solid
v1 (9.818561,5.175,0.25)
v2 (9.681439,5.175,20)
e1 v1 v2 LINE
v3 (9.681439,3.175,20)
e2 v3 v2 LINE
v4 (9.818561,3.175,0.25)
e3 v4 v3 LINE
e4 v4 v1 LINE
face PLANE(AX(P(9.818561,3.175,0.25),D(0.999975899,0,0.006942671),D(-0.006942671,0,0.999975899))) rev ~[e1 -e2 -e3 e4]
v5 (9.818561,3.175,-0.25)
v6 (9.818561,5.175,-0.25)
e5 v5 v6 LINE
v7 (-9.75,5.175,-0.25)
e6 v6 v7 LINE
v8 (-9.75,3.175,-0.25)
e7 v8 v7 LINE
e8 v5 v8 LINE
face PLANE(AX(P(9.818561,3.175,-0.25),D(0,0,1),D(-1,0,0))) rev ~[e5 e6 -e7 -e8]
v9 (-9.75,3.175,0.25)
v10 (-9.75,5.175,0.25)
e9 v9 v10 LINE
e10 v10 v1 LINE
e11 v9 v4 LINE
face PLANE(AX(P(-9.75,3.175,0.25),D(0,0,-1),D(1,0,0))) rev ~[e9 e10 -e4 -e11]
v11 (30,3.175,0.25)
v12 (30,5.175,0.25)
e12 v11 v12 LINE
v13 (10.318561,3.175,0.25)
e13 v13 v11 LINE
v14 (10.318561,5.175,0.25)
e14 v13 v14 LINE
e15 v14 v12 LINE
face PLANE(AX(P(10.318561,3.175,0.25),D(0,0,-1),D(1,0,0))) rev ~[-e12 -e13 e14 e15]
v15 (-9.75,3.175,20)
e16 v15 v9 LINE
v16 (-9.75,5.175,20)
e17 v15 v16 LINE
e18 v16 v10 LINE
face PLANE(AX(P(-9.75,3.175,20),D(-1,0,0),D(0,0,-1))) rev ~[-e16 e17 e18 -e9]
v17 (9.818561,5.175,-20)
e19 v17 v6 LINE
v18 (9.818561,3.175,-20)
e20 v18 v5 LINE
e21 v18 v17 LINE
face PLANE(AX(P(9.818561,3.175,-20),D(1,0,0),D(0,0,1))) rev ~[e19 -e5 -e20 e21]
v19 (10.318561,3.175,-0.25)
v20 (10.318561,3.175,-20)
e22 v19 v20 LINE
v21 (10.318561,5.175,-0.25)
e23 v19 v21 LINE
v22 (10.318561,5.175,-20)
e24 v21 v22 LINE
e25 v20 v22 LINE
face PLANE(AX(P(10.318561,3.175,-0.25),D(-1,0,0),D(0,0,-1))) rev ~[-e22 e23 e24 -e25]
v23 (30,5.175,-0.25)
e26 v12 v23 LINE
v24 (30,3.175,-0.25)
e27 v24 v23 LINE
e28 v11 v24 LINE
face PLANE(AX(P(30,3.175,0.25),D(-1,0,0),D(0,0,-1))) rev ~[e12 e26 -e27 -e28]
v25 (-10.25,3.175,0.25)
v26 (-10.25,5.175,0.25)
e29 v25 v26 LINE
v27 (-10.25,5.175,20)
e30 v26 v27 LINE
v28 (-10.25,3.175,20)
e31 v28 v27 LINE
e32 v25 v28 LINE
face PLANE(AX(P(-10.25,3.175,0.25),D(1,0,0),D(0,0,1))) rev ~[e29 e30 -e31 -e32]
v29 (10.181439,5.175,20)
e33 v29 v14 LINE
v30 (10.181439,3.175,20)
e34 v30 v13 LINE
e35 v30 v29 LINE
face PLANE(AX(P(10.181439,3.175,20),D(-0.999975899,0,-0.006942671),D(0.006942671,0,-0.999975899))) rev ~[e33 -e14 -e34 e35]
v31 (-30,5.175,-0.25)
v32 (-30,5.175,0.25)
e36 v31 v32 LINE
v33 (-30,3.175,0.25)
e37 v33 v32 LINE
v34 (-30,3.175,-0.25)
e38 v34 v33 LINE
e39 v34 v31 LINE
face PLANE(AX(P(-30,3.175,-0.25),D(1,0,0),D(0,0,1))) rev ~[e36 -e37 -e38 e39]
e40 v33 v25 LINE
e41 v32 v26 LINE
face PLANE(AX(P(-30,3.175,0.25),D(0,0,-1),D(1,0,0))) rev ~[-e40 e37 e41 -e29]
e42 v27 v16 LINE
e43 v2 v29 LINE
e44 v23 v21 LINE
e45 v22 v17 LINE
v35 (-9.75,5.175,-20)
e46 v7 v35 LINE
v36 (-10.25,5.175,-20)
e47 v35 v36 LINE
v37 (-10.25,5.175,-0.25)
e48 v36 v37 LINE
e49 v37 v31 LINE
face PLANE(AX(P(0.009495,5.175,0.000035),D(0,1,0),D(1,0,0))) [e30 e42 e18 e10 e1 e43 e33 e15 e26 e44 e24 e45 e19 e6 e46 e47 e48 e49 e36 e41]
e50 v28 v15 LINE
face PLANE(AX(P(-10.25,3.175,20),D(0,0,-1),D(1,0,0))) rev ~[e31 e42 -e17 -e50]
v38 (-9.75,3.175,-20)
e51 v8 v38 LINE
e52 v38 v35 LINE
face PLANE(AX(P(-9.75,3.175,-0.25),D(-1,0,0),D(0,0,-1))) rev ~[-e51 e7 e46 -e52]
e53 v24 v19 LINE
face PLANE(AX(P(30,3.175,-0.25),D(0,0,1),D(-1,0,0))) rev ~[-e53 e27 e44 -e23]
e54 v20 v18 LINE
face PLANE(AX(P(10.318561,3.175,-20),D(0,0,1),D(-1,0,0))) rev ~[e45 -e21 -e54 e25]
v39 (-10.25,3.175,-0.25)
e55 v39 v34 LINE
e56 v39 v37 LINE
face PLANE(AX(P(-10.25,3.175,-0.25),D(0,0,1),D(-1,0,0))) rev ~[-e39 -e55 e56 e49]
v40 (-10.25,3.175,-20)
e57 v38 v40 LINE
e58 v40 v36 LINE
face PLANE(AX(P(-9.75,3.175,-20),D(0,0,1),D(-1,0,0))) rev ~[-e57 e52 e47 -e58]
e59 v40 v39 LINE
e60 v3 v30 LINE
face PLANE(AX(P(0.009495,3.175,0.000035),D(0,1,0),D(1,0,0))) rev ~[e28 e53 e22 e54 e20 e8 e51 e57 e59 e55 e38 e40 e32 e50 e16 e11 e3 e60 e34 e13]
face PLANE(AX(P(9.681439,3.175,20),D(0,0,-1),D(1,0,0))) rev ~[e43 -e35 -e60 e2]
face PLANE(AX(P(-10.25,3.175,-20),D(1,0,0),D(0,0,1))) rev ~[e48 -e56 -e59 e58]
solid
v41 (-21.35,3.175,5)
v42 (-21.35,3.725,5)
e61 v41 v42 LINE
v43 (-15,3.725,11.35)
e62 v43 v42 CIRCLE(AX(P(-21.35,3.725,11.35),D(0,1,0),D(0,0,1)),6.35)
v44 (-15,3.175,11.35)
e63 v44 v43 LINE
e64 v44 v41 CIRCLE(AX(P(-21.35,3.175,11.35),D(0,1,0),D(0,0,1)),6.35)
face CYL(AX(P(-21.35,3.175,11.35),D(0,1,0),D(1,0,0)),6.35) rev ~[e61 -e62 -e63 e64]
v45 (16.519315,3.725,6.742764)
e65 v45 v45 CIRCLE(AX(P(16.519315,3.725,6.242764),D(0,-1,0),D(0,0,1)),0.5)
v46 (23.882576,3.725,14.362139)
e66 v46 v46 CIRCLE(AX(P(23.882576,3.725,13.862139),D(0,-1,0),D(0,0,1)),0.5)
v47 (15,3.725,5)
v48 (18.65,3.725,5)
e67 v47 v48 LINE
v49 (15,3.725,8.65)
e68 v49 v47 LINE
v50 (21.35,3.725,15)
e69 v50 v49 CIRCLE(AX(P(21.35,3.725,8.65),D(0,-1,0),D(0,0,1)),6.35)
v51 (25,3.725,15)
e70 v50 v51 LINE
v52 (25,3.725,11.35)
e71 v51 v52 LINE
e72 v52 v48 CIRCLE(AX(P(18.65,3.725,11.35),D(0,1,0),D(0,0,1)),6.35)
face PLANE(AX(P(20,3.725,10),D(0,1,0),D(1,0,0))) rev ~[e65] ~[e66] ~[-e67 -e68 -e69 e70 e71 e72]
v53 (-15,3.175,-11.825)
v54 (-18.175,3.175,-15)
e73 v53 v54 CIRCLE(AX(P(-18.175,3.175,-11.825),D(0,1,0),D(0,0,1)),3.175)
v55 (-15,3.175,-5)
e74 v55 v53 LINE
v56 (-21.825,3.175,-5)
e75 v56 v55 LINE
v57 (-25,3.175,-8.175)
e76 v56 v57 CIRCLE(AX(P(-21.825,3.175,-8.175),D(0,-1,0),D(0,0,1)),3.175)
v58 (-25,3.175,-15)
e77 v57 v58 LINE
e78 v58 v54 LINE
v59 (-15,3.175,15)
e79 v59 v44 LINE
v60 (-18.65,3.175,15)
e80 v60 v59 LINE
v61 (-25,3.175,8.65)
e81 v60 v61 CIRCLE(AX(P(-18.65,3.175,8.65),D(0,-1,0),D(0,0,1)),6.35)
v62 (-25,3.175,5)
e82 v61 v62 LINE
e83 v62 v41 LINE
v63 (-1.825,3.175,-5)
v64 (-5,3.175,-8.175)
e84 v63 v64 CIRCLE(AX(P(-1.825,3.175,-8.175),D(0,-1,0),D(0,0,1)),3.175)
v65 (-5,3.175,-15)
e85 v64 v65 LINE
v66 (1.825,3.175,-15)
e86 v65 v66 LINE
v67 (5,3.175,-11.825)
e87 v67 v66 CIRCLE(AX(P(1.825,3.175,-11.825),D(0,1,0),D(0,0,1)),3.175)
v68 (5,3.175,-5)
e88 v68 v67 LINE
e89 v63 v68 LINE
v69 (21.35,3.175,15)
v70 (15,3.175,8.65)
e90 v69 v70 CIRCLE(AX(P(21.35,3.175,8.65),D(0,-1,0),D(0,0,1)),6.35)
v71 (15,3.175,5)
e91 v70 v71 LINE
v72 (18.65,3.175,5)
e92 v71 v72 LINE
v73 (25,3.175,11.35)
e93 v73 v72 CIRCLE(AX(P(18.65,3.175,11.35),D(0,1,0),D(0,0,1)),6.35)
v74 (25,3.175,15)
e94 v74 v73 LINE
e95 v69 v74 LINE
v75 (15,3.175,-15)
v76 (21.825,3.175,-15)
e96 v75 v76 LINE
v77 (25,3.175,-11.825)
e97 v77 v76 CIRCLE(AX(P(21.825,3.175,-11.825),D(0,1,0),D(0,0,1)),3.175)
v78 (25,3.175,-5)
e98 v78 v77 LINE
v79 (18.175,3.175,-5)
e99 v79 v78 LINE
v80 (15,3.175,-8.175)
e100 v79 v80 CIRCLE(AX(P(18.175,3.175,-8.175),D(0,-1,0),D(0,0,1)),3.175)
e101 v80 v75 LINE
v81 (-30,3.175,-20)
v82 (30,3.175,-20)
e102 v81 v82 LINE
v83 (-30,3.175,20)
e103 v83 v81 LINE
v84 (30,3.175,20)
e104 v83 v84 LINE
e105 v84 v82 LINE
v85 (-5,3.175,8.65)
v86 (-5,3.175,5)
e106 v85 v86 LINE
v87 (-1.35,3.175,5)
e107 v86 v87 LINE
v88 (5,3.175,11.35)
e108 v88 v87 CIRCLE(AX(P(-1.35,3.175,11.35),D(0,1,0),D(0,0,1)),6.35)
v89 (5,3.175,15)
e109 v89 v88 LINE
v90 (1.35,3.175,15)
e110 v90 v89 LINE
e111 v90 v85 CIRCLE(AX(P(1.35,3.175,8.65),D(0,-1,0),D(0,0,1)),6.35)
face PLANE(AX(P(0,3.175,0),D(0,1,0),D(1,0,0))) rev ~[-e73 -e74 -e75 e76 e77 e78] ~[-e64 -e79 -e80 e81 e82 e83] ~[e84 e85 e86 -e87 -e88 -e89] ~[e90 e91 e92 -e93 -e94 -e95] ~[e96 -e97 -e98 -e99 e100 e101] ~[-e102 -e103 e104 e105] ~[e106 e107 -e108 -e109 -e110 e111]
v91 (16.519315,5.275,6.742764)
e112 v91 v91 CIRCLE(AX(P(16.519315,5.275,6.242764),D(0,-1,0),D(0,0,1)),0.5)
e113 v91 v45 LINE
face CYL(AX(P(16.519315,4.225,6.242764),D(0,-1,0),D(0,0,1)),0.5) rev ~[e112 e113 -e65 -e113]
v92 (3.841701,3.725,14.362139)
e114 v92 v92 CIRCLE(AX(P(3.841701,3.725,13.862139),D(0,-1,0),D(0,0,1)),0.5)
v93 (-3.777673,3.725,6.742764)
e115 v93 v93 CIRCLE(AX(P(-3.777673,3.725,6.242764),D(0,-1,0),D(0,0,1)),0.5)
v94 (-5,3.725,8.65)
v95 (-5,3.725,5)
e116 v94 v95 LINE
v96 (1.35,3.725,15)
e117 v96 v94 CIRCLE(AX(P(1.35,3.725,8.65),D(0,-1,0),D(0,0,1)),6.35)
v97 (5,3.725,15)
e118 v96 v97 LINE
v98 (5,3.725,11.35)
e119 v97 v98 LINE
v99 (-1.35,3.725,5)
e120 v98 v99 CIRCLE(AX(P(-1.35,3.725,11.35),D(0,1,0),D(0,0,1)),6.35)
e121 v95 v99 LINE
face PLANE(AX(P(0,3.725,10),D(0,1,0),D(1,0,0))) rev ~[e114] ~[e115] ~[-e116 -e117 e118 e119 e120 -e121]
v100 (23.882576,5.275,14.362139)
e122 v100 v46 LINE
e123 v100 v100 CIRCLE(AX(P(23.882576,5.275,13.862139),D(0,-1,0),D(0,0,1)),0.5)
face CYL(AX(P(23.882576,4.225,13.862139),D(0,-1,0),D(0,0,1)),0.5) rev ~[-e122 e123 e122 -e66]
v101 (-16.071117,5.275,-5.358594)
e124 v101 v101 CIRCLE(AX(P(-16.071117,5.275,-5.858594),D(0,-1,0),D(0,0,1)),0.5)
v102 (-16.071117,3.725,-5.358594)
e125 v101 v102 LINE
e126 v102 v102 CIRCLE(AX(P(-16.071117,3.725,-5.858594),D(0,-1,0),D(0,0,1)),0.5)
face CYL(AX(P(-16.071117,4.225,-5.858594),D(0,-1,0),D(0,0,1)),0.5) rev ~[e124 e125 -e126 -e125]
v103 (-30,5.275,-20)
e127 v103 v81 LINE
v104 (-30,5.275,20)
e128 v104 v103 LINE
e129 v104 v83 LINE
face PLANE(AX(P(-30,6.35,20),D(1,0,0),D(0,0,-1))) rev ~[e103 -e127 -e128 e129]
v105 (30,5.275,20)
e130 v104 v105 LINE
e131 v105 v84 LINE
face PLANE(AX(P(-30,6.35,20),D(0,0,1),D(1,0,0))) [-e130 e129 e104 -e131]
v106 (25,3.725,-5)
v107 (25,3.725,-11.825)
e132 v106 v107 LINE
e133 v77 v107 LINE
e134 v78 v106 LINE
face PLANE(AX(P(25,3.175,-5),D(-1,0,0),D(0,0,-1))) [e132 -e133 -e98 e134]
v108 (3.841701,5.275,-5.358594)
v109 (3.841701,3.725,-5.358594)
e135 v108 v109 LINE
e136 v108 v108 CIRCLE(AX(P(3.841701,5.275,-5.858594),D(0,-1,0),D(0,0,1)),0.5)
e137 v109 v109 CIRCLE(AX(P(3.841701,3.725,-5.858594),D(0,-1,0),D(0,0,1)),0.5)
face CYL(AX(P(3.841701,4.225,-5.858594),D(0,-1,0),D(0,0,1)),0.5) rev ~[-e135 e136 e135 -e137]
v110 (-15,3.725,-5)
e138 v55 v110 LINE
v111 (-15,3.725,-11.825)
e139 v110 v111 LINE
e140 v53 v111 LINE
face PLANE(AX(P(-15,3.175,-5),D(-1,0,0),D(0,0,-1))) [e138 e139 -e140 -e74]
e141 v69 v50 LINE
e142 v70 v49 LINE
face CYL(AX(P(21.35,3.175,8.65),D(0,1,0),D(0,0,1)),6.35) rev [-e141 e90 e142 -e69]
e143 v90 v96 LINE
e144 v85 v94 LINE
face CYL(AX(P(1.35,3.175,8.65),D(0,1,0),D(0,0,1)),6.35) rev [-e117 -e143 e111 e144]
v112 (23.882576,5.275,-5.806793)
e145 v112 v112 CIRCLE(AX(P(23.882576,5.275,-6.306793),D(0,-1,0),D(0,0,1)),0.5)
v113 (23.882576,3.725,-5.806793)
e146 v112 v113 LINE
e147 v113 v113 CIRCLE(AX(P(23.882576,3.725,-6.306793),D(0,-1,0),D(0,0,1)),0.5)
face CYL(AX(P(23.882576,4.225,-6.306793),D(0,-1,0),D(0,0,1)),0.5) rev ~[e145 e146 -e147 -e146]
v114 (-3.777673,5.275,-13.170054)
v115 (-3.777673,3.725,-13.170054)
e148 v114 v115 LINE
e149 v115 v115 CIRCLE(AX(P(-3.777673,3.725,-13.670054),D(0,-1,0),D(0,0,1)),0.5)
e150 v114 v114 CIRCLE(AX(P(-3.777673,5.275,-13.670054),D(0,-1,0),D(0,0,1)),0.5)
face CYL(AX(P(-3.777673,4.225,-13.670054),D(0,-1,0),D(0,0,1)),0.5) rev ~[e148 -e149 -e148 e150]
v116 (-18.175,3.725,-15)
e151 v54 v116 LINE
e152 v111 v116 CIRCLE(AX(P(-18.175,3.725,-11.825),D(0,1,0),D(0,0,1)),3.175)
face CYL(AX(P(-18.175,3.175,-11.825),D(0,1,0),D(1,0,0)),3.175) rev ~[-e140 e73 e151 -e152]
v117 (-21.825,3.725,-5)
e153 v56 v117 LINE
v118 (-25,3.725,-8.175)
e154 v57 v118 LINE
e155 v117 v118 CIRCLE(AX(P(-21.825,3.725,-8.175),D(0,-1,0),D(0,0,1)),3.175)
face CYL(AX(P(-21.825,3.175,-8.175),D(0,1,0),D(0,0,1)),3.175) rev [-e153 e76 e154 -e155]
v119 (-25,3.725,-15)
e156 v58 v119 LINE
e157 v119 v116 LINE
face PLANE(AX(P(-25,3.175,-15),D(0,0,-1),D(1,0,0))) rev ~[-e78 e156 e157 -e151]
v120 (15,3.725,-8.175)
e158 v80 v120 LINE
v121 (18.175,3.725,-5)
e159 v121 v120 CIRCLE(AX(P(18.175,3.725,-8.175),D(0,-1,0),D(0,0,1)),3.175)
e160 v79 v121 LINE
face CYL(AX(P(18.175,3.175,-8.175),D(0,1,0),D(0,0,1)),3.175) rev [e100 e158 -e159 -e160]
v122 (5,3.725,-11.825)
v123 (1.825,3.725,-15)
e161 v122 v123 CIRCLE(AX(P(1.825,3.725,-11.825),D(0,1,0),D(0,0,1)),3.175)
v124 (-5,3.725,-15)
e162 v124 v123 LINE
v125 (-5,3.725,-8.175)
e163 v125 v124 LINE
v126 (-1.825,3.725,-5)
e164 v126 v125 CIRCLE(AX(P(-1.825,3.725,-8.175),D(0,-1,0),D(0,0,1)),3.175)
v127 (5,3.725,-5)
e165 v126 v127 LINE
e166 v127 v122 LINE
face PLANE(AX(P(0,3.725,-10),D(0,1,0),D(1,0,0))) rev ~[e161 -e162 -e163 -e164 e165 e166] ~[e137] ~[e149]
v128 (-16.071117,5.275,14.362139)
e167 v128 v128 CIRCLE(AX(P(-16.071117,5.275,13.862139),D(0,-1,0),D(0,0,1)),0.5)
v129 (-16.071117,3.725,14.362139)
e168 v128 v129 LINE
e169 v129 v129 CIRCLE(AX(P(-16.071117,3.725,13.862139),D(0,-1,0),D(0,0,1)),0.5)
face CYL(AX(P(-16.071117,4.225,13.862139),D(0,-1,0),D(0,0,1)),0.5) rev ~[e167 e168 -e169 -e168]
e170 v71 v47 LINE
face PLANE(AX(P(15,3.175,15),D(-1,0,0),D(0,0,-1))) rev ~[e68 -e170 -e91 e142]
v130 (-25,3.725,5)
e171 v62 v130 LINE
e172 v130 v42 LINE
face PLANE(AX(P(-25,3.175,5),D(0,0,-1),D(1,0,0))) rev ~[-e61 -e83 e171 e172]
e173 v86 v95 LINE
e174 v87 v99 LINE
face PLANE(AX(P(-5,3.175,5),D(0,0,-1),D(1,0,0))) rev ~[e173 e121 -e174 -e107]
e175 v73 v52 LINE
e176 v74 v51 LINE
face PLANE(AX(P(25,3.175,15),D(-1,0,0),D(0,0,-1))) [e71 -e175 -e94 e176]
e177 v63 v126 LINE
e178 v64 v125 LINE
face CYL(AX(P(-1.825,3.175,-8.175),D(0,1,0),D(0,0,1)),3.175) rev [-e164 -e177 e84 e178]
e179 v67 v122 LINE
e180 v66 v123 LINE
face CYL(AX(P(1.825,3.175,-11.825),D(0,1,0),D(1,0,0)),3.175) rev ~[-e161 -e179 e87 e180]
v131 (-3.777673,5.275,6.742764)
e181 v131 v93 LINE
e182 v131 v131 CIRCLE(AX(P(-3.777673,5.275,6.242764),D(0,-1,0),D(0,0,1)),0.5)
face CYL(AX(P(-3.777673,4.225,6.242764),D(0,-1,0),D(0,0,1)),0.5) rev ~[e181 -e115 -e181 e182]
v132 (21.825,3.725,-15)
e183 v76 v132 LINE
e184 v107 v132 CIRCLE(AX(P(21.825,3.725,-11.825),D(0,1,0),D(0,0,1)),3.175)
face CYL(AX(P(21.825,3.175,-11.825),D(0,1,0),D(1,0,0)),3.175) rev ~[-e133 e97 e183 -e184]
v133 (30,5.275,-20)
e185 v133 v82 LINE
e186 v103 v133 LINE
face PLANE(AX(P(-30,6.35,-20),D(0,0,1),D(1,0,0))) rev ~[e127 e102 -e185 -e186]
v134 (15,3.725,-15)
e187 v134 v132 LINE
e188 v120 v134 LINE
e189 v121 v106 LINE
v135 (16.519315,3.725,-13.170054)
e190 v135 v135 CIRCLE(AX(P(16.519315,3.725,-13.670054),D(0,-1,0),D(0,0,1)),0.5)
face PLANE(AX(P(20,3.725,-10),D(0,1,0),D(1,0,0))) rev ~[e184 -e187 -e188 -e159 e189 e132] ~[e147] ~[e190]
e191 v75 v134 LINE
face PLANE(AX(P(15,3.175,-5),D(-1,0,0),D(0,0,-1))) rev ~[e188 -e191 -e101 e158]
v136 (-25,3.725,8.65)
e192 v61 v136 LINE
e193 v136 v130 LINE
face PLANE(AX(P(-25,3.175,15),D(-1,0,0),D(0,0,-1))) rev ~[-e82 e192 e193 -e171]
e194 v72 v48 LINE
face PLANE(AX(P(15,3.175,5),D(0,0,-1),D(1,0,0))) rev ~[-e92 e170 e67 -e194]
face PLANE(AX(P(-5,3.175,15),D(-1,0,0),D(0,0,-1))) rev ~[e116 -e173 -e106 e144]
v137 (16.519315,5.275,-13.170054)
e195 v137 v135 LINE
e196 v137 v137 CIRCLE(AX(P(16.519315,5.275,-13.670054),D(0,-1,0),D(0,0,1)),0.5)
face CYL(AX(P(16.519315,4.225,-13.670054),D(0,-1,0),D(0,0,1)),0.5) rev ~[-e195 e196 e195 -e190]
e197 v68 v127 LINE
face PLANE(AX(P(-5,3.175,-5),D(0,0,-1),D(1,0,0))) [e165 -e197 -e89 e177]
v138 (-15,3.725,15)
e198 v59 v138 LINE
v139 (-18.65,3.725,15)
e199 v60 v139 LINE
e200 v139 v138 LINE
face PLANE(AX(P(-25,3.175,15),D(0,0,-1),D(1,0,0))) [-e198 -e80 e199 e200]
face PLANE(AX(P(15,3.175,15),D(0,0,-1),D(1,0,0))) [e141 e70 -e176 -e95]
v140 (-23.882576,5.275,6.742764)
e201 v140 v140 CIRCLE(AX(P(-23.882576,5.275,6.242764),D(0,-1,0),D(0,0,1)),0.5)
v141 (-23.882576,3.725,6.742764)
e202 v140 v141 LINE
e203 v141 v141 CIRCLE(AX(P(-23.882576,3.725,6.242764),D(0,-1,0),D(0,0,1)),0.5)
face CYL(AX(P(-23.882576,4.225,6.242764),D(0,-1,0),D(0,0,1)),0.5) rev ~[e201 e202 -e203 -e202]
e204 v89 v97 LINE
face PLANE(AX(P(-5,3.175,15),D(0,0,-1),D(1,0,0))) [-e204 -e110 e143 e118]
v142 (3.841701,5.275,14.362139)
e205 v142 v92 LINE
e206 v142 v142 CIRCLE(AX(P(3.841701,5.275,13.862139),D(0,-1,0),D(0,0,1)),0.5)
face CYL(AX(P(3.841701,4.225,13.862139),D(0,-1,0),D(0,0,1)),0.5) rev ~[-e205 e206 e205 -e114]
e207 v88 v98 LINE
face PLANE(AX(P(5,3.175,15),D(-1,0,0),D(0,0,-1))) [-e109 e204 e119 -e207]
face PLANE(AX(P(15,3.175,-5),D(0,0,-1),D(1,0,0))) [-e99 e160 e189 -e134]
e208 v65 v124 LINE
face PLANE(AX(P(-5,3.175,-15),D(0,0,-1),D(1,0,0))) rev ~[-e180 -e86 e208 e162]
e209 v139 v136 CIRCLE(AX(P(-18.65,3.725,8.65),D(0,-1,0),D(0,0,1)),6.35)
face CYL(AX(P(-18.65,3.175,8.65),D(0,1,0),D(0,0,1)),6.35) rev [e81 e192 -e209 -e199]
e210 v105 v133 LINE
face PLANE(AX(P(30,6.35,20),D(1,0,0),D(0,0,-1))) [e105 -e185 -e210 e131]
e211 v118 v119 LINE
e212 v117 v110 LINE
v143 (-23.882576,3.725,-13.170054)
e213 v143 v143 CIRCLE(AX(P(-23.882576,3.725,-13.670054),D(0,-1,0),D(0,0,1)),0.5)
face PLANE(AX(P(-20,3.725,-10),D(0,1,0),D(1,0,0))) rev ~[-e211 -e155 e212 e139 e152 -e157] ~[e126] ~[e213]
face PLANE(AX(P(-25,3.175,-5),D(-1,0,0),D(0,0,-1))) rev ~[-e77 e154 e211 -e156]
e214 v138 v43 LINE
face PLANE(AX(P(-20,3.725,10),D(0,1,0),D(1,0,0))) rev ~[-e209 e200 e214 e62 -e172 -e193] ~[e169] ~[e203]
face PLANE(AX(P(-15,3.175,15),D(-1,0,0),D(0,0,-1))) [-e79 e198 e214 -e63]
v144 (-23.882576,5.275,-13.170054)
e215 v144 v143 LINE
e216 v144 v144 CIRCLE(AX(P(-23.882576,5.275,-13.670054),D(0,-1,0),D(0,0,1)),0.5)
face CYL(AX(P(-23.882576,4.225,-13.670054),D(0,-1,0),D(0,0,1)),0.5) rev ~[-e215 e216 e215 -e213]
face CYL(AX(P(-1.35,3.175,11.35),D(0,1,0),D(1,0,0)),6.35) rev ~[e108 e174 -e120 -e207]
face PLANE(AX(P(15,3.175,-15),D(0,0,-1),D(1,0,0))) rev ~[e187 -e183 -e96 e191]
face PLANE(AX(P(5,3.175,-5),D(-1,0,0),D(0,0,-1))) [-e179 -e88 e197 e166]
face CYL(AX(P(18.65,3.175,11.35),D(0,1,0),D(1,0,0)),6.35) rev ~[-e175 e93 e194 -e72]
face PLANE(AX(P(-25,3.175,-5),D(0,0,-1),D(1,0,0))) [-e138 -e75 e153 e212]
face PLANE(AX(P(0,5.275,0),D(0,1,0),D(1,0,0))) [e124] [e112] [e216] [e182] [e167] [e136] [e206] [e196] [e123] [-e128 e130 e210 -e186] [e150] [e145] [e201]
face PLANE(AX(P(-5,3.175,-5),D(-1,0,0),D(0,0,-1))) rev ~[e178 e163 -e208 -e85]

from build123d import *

# Parameters (mm, degrees)
SKETCH1_W                       = 70
SKETCH1_H                       = 50
BOSS_EXTRUDE1_DEPTH             = 6.35
SKETCH2_W                       = 60
SKETCH2_H                       = 40
CUT_EXTRUDE1_DEPTH              = 3.175
SKETCH3_W                       = 10
SKETCH3_H                       = 10
BOSS_EXTRUDE2_DEPTH             = 0.55
LPATTERN1_COUNT                 = 3
LPATTERN1_PITCH                 = 20
LPATTERN1_COUNT_DIR2            = 2
LPATTERN1_PITCH_DIR2            = 20
DIVIDERS_DEPTH                  = 2
FILLET4_R                       = 3.175
FILLET6_R                       = 3.175
FILLET7_R                       = 6.35
SKETCH11_W                      = 61.55259076
SKETCH11_H                      = 41.010160592
BOSS_EXTRUDE3_DEPTH             = 2.1
SKETCH13_W                      = 0.5
SKETCH13_H                      = 2.1
F_1_0MM_DOWEL_HOLE1_AT_2_COUNT  = 2
F_1_0MM_DOWEL_HOLE1_AT_2_PITCH  = 11.047071486
F_1_0MM_DOWEL_HOLE1_AT_3_COUNT  = 2
F_1_0MM_DOWEL_HOLE1_AT_3_PITCH  = 19.912818023
F_1_0MM_DOWEL_HOLE1_AT_4_COUNT  = 2
F_1_0MM_DOWEL_HOLE1_AT_4_PITCH  = 28.618883578
F_1_0MM_DOWEL_HOLE1_AT_5_COUNT  = 2
F_1_0MM_DOWEL_HOLE1_AT_5_PITCH  = 28.29712794
F_1_0MM_DOWEL_HOLE1_AT_6_COUNT  = 2
F_1_0MM_DOWEL_HOLE1_AT_6_PITCH  = 39.07246023
F_1_0MM_DOWEL_HOLE1_AT_7_COUNT  = 2
F_1_0MM_DOWEL_HOLE1_AT_7_PITCH  = 28.803722668
F_1_0MM_DOWEL_HOLE1_AT_8_COUNT  = 2
F_1_0MM_DOWEL_HOLE1_AT_8_PITCH  = 20.104903085
F_1_0MM_DOWEL_HOLE1_AT_9_COUNT  = 2
F_1_0MM_DOWEL_HOLE1_AT_9_PITCH  = 40.40189123
F_1_0MM_DOWEL_HOLE1_AT_10_COUNT = 2
F_1_0MM_DOWEL_HOLE1_AT_10_PITCH = 48.329363179
F_1_0MM_DOWEL_HOLE1_AT_11_COUNT = 2
F_1_0MM_DOWEL_HOLE1_AT_11_PITCH = 45.042570271
F_1_0MM_DOWEL_HOLE1_AT_12_COUNT = 2
F_1_0MM_DOWEL_HOLE1_AT_12_PITCH = 55.131944827


with BuildPart() as part:
    # Sketch1 → Boss-Extrude1 (new body)
    with BuildSketch(Plane(origin=(0, 0, 0), x_dir=(1, 0, 0), z_dir=(0, 1, 0))):
        Rectangle(SKETCH1_W, SKETCH1_H)
    extrude(amount=BOSS_EXTRUDE1_DEPTH)

    # Sketch2 → Cut-Extrude1 (cut)
    with BuildSketch(Plane(origin=(0, 6.35, 0), x_dir=(1, 0, 0), z_dir=(0, 1, 0))):
        Rectangle(SKETCH2_W, SKETCH2_H)
    extrude(amount=-CUT_EXTRUDE1_DEPTH, mode=Mode.SUBTRACT)

    # Sketch3 → Boss-Extrude2 (add)
    with BuildSketch(Plane(origin=(0, 3.175, 0), x_dir=(1, 0, 0), z_dir=(0, 1, 0))):
        with Locations((-20, 10)):
            Rectangle(SKETCH3_W, SKETCH3_H)
    boss_extrude2 = extrude(amount=BOSS_EXTRUDE2_DEPTH)

    # LPattern1: Boss-Extrude2 3 × 2
    with Locations(*[(i * LPATTERN1_PITCH, 0, j * LPATTERN1_PITCH_DIR2) for i in range(LPATTERN1_COUNT) for j in range(LPATTERN1_COUNT_DIR2) if (i, j) != (0, 0)]):
        add(boss_extrude2)

    # Fillet4
    fillet4_edges = [part.edges().sort_by_distance(p)[0] for p in [
        (35, 3.175, 25),
        (-35, 3.175, 25),
        (-35, 3.175, -25),
        (35, 3.175, -25),
    ]]
    fillet(fillet4_edges, radius=FILLET4_R)

    # Fillet6
    fillet6_edges = [part.edges().sort_by_distance(p)[0] for p in [
        (-15, 3.45, -15),
        (-25, 3.45, -5),
        (5, 3.45, -15),
        (-5, 3.45, -5),
        (25, 3.45, -15),
        (15, 3.45, -5),
    ]]
    fillet(fillet6_edges, radius=FILLET6_R)

    # Fillet7
    fillet7_edges = [part.edges().sort_by_distance(p)[0] for p in [
        (-15, 3.45, 5),
        (-25, 3.45, 15),
        (5, 3.45, 5),
        (-5, 3.45, 15),
        (25, 3.45, 5),
        (15, 3.45, 15),
    ]]
    fillet(fillet7_edges, radius=FILLET7_R)


with BuildPart() as body_2:
    # Sketch10 → Dividers (new body)
    with BuildSketch(Plane(origin=(0, 3.175, 0), x_dir=(1, 0, 0), z_dir=(0, 1, 0))):
        Polygon((-10.25, -0.25), (-10.25, -20), (-9.75, -20), (-9.75, -0.25), (9.818560524, -0.25), (9.681439476, -20), (10.181439476, -20), (10.318560524, -0.25), (30, -0.25), (30, 0.25), (10.318560524, 0.25), (10.318560524, 20), (9.818560524, 20), (9.818560524, 0.25), (-9.75, 0.25), (-9.75, 20), (-10.25, 20), (-10.25, 0.25), (-30, 0.25), (-30, -0.25), align=None)
    extrude(amount=DIVIDERS_DEPTH)


with BuildPart() as body_3:
    # Sketch11 → Boss-Extrude3 (new body)
    with BuildSketch(Plane(origin=(0, 3.175, 0), x_dir=(1, 0, 0), z_dir=(0, 1, 0))):
        Rectangle(SKETCH11_W, SKETCH11_H)
    extrude(amount=BOSS_EXTRUDE3_DEPTH)

    # Combine1: cut part
    add(part.part, mode=Mode.SUBTRACT)

    # Sketch13 → Ø1.0mm Dowel Hole1 (revolve, cut)
    with BuildSketch(Plane(origin=(-23.882575957, 5.275, -13.67005353), x_dir=(0, 0, 1), z_dir=(1, 0, 0))):
        with Locations((0.25, 1.05)):
            Rectangle(SKETCH13_W, SKETCH13_H)
    f_1_0mm_dowel_hole1 = revolve(axis=Axis((-23.882575957, 11.625, -13.67005353), (0, -1, 0)), mode=Mode.SUBTRACT)

    # Ø1.0mm Dowel Hole1 at 2: Ø1.0mm Dowel Hole1 ×2
    with Locations(*[Vector(0.707106781, 0, 0.707106781) * (i * F_1_0MM_DOWEL_HOLE1_AT_2_PITCH) for i in range(1, F_1_0MM_DOWEL_HOLE1_AT_2_COUNT)]):
        add(f_1_0mm_dowel_hole1, mode=Mode.SUBTRACT)

    # Ø1.0mm Dowel Hole1 at 3: Ø1.0mm Dowel Hole1 ×2
    with Locations(*[(0, 0, i * F_1_0MM_DOWEL_HOLE1_AT_3_PITCH) for i in range(1, F_1_0MM_DOWEL_HOLE1_AT_3_COUNT)]):
        add(f_1_0mm_dowel_hole1, mode=Mode.SUBTRACT)

    # Ø1.0mm Dowel Hole1 at 4: Ø1.0mm Dowel Hole1 ×2
    with Locations(*[Vector(0.272947725, 0, 0.962028866) * (i * F_1_0MM_DOWEL_HOLE1_AT_4_PITCH) for i in range(1, F_1_0MM_DOWEL_HOLE1_AT_4_COUNT)]):
        add(f_1_0mm_dowel_hole1, mode=Mode.SUBTRACT)

    # Ø1.0mm Dowel Hole1 at 5: Ø1.0mm Dowel Hole1 ×2
    with Locations(*[Vector(0.710492709, 0, 0.703704562) * (i * F_1_0MM_DOWEL_HOLE1_AT_5_PITCH) for i in range(1, F_1_0MM_DOWEL_HOLE1_AT_5_COUNT)]):
        add(f_1_0mm_dowel_hole1, mode=Mode.SUBTRACT)

    # Ø1.0mm Dowel Hole1 at 6: Ø1.0mm Dowel Hole1 ×2
    with Locations(*[Vector(0.709560571, 0, 0.704644447) * (i * F_1_0MM_DOWEL_HOLE1_AT_6_PITCH) for i in range(1, F_1_0MM_DOWEL_HOLE1_AT_6_COUNT)]):
        add(f_1_0mm_dowel_hole1, mode=Mode.SUBTRACT)

    # Ø1.0mm Dowel Hole1 at 7: Ø1.0mm Dowel Hole1 ×2
    with Locations(*[Vector(0.962524098, 0, 0.271196166) * (i * F_1_0MM_DOWEL_HOLE1_AT_7_PITCH) for i in range(1, F_1_0MM_DOWEL_HOLE1_AT_7_COUNT)]):
        add(f_1_0mm_dowel_hole1, mode=Mode.SUBTRACT)

    # Ø1.0mm Dowel Hole1 at 8: Ø1.0mm Dowel Hole1 ×2
    with Locations(*[(i * F_1_0MM_DOWEL_HOLE1_AT_8_PITCH, 0, 0) for i in range(1, F_1_0MM_DOWEL_HOLE1_AT_8_COUNT)]):
        add(f_1_0mm_dowel_hole1, mode=Mode.SUBTRACT)

    # Ø1.0mm Dowel Hole1 at 9: Ø1.0mm Dowel Hole1 ×2
    with Locations(*[(i * F_1_0MM_DOWEL_HOLE1_AT_9_PITCH, 0, 0) for i in range(1, F_1_0MM_DOWEL_HOLE1_AT_9_COUNT)]):
        add(f_1_0mm_dowel_hole1, mode=Mode.SUBTRACT)

    # Ø1.0mm Dowel Hole1 at 10: Ø1.0mm Dowel Hole1 ×2
    with Locations(*[Vector(0.988325705, 0, 0.152355839) * (i * F_1_0MM_DOWEL_HOLE1_AT_10_PITCH) for i in range(1, F_1_0MM_DOWEL_HOLE1_AT_10_COUNT)]):
        add(f_1_0mm_dowel_hole1, mode=Mode.SUBTRACT)

    # Ø1.0mm Dowel Hole1 at 11: Ø1.0mm Dowel Hole1 ×2
    with Locations(*[Vector(0.896971265, 0, 0.442088848) * (i * F_1_0MM_DOWEL_HOLE1_AT_11_PITCH) for i in range(1, F_1_0MM_DOWEL_HOLE1_AT_11_COUNT)]):
        add(f_1_0mm_dowel_hole1, mode=Mode.SUBTRACT)

    # Ø1.0mm Dowel Hole1 at 12: Ø1.0mm Dowel Hole1 ×2
    with Locations(*[Vector(0.866378867, 0, 0.499387283) * (i * F_1_0MM_DOWEL_HOLE1_AT_12_PITCH) for i in range(1, F_1_0MM_DOWEL_HOLE1_AT_12_COUNT)]):
        add(f_1_0mm_dowel_hole1, mode=Mode.SUBTRACT)


solid = Compound([body_2.part, body_3.part])
